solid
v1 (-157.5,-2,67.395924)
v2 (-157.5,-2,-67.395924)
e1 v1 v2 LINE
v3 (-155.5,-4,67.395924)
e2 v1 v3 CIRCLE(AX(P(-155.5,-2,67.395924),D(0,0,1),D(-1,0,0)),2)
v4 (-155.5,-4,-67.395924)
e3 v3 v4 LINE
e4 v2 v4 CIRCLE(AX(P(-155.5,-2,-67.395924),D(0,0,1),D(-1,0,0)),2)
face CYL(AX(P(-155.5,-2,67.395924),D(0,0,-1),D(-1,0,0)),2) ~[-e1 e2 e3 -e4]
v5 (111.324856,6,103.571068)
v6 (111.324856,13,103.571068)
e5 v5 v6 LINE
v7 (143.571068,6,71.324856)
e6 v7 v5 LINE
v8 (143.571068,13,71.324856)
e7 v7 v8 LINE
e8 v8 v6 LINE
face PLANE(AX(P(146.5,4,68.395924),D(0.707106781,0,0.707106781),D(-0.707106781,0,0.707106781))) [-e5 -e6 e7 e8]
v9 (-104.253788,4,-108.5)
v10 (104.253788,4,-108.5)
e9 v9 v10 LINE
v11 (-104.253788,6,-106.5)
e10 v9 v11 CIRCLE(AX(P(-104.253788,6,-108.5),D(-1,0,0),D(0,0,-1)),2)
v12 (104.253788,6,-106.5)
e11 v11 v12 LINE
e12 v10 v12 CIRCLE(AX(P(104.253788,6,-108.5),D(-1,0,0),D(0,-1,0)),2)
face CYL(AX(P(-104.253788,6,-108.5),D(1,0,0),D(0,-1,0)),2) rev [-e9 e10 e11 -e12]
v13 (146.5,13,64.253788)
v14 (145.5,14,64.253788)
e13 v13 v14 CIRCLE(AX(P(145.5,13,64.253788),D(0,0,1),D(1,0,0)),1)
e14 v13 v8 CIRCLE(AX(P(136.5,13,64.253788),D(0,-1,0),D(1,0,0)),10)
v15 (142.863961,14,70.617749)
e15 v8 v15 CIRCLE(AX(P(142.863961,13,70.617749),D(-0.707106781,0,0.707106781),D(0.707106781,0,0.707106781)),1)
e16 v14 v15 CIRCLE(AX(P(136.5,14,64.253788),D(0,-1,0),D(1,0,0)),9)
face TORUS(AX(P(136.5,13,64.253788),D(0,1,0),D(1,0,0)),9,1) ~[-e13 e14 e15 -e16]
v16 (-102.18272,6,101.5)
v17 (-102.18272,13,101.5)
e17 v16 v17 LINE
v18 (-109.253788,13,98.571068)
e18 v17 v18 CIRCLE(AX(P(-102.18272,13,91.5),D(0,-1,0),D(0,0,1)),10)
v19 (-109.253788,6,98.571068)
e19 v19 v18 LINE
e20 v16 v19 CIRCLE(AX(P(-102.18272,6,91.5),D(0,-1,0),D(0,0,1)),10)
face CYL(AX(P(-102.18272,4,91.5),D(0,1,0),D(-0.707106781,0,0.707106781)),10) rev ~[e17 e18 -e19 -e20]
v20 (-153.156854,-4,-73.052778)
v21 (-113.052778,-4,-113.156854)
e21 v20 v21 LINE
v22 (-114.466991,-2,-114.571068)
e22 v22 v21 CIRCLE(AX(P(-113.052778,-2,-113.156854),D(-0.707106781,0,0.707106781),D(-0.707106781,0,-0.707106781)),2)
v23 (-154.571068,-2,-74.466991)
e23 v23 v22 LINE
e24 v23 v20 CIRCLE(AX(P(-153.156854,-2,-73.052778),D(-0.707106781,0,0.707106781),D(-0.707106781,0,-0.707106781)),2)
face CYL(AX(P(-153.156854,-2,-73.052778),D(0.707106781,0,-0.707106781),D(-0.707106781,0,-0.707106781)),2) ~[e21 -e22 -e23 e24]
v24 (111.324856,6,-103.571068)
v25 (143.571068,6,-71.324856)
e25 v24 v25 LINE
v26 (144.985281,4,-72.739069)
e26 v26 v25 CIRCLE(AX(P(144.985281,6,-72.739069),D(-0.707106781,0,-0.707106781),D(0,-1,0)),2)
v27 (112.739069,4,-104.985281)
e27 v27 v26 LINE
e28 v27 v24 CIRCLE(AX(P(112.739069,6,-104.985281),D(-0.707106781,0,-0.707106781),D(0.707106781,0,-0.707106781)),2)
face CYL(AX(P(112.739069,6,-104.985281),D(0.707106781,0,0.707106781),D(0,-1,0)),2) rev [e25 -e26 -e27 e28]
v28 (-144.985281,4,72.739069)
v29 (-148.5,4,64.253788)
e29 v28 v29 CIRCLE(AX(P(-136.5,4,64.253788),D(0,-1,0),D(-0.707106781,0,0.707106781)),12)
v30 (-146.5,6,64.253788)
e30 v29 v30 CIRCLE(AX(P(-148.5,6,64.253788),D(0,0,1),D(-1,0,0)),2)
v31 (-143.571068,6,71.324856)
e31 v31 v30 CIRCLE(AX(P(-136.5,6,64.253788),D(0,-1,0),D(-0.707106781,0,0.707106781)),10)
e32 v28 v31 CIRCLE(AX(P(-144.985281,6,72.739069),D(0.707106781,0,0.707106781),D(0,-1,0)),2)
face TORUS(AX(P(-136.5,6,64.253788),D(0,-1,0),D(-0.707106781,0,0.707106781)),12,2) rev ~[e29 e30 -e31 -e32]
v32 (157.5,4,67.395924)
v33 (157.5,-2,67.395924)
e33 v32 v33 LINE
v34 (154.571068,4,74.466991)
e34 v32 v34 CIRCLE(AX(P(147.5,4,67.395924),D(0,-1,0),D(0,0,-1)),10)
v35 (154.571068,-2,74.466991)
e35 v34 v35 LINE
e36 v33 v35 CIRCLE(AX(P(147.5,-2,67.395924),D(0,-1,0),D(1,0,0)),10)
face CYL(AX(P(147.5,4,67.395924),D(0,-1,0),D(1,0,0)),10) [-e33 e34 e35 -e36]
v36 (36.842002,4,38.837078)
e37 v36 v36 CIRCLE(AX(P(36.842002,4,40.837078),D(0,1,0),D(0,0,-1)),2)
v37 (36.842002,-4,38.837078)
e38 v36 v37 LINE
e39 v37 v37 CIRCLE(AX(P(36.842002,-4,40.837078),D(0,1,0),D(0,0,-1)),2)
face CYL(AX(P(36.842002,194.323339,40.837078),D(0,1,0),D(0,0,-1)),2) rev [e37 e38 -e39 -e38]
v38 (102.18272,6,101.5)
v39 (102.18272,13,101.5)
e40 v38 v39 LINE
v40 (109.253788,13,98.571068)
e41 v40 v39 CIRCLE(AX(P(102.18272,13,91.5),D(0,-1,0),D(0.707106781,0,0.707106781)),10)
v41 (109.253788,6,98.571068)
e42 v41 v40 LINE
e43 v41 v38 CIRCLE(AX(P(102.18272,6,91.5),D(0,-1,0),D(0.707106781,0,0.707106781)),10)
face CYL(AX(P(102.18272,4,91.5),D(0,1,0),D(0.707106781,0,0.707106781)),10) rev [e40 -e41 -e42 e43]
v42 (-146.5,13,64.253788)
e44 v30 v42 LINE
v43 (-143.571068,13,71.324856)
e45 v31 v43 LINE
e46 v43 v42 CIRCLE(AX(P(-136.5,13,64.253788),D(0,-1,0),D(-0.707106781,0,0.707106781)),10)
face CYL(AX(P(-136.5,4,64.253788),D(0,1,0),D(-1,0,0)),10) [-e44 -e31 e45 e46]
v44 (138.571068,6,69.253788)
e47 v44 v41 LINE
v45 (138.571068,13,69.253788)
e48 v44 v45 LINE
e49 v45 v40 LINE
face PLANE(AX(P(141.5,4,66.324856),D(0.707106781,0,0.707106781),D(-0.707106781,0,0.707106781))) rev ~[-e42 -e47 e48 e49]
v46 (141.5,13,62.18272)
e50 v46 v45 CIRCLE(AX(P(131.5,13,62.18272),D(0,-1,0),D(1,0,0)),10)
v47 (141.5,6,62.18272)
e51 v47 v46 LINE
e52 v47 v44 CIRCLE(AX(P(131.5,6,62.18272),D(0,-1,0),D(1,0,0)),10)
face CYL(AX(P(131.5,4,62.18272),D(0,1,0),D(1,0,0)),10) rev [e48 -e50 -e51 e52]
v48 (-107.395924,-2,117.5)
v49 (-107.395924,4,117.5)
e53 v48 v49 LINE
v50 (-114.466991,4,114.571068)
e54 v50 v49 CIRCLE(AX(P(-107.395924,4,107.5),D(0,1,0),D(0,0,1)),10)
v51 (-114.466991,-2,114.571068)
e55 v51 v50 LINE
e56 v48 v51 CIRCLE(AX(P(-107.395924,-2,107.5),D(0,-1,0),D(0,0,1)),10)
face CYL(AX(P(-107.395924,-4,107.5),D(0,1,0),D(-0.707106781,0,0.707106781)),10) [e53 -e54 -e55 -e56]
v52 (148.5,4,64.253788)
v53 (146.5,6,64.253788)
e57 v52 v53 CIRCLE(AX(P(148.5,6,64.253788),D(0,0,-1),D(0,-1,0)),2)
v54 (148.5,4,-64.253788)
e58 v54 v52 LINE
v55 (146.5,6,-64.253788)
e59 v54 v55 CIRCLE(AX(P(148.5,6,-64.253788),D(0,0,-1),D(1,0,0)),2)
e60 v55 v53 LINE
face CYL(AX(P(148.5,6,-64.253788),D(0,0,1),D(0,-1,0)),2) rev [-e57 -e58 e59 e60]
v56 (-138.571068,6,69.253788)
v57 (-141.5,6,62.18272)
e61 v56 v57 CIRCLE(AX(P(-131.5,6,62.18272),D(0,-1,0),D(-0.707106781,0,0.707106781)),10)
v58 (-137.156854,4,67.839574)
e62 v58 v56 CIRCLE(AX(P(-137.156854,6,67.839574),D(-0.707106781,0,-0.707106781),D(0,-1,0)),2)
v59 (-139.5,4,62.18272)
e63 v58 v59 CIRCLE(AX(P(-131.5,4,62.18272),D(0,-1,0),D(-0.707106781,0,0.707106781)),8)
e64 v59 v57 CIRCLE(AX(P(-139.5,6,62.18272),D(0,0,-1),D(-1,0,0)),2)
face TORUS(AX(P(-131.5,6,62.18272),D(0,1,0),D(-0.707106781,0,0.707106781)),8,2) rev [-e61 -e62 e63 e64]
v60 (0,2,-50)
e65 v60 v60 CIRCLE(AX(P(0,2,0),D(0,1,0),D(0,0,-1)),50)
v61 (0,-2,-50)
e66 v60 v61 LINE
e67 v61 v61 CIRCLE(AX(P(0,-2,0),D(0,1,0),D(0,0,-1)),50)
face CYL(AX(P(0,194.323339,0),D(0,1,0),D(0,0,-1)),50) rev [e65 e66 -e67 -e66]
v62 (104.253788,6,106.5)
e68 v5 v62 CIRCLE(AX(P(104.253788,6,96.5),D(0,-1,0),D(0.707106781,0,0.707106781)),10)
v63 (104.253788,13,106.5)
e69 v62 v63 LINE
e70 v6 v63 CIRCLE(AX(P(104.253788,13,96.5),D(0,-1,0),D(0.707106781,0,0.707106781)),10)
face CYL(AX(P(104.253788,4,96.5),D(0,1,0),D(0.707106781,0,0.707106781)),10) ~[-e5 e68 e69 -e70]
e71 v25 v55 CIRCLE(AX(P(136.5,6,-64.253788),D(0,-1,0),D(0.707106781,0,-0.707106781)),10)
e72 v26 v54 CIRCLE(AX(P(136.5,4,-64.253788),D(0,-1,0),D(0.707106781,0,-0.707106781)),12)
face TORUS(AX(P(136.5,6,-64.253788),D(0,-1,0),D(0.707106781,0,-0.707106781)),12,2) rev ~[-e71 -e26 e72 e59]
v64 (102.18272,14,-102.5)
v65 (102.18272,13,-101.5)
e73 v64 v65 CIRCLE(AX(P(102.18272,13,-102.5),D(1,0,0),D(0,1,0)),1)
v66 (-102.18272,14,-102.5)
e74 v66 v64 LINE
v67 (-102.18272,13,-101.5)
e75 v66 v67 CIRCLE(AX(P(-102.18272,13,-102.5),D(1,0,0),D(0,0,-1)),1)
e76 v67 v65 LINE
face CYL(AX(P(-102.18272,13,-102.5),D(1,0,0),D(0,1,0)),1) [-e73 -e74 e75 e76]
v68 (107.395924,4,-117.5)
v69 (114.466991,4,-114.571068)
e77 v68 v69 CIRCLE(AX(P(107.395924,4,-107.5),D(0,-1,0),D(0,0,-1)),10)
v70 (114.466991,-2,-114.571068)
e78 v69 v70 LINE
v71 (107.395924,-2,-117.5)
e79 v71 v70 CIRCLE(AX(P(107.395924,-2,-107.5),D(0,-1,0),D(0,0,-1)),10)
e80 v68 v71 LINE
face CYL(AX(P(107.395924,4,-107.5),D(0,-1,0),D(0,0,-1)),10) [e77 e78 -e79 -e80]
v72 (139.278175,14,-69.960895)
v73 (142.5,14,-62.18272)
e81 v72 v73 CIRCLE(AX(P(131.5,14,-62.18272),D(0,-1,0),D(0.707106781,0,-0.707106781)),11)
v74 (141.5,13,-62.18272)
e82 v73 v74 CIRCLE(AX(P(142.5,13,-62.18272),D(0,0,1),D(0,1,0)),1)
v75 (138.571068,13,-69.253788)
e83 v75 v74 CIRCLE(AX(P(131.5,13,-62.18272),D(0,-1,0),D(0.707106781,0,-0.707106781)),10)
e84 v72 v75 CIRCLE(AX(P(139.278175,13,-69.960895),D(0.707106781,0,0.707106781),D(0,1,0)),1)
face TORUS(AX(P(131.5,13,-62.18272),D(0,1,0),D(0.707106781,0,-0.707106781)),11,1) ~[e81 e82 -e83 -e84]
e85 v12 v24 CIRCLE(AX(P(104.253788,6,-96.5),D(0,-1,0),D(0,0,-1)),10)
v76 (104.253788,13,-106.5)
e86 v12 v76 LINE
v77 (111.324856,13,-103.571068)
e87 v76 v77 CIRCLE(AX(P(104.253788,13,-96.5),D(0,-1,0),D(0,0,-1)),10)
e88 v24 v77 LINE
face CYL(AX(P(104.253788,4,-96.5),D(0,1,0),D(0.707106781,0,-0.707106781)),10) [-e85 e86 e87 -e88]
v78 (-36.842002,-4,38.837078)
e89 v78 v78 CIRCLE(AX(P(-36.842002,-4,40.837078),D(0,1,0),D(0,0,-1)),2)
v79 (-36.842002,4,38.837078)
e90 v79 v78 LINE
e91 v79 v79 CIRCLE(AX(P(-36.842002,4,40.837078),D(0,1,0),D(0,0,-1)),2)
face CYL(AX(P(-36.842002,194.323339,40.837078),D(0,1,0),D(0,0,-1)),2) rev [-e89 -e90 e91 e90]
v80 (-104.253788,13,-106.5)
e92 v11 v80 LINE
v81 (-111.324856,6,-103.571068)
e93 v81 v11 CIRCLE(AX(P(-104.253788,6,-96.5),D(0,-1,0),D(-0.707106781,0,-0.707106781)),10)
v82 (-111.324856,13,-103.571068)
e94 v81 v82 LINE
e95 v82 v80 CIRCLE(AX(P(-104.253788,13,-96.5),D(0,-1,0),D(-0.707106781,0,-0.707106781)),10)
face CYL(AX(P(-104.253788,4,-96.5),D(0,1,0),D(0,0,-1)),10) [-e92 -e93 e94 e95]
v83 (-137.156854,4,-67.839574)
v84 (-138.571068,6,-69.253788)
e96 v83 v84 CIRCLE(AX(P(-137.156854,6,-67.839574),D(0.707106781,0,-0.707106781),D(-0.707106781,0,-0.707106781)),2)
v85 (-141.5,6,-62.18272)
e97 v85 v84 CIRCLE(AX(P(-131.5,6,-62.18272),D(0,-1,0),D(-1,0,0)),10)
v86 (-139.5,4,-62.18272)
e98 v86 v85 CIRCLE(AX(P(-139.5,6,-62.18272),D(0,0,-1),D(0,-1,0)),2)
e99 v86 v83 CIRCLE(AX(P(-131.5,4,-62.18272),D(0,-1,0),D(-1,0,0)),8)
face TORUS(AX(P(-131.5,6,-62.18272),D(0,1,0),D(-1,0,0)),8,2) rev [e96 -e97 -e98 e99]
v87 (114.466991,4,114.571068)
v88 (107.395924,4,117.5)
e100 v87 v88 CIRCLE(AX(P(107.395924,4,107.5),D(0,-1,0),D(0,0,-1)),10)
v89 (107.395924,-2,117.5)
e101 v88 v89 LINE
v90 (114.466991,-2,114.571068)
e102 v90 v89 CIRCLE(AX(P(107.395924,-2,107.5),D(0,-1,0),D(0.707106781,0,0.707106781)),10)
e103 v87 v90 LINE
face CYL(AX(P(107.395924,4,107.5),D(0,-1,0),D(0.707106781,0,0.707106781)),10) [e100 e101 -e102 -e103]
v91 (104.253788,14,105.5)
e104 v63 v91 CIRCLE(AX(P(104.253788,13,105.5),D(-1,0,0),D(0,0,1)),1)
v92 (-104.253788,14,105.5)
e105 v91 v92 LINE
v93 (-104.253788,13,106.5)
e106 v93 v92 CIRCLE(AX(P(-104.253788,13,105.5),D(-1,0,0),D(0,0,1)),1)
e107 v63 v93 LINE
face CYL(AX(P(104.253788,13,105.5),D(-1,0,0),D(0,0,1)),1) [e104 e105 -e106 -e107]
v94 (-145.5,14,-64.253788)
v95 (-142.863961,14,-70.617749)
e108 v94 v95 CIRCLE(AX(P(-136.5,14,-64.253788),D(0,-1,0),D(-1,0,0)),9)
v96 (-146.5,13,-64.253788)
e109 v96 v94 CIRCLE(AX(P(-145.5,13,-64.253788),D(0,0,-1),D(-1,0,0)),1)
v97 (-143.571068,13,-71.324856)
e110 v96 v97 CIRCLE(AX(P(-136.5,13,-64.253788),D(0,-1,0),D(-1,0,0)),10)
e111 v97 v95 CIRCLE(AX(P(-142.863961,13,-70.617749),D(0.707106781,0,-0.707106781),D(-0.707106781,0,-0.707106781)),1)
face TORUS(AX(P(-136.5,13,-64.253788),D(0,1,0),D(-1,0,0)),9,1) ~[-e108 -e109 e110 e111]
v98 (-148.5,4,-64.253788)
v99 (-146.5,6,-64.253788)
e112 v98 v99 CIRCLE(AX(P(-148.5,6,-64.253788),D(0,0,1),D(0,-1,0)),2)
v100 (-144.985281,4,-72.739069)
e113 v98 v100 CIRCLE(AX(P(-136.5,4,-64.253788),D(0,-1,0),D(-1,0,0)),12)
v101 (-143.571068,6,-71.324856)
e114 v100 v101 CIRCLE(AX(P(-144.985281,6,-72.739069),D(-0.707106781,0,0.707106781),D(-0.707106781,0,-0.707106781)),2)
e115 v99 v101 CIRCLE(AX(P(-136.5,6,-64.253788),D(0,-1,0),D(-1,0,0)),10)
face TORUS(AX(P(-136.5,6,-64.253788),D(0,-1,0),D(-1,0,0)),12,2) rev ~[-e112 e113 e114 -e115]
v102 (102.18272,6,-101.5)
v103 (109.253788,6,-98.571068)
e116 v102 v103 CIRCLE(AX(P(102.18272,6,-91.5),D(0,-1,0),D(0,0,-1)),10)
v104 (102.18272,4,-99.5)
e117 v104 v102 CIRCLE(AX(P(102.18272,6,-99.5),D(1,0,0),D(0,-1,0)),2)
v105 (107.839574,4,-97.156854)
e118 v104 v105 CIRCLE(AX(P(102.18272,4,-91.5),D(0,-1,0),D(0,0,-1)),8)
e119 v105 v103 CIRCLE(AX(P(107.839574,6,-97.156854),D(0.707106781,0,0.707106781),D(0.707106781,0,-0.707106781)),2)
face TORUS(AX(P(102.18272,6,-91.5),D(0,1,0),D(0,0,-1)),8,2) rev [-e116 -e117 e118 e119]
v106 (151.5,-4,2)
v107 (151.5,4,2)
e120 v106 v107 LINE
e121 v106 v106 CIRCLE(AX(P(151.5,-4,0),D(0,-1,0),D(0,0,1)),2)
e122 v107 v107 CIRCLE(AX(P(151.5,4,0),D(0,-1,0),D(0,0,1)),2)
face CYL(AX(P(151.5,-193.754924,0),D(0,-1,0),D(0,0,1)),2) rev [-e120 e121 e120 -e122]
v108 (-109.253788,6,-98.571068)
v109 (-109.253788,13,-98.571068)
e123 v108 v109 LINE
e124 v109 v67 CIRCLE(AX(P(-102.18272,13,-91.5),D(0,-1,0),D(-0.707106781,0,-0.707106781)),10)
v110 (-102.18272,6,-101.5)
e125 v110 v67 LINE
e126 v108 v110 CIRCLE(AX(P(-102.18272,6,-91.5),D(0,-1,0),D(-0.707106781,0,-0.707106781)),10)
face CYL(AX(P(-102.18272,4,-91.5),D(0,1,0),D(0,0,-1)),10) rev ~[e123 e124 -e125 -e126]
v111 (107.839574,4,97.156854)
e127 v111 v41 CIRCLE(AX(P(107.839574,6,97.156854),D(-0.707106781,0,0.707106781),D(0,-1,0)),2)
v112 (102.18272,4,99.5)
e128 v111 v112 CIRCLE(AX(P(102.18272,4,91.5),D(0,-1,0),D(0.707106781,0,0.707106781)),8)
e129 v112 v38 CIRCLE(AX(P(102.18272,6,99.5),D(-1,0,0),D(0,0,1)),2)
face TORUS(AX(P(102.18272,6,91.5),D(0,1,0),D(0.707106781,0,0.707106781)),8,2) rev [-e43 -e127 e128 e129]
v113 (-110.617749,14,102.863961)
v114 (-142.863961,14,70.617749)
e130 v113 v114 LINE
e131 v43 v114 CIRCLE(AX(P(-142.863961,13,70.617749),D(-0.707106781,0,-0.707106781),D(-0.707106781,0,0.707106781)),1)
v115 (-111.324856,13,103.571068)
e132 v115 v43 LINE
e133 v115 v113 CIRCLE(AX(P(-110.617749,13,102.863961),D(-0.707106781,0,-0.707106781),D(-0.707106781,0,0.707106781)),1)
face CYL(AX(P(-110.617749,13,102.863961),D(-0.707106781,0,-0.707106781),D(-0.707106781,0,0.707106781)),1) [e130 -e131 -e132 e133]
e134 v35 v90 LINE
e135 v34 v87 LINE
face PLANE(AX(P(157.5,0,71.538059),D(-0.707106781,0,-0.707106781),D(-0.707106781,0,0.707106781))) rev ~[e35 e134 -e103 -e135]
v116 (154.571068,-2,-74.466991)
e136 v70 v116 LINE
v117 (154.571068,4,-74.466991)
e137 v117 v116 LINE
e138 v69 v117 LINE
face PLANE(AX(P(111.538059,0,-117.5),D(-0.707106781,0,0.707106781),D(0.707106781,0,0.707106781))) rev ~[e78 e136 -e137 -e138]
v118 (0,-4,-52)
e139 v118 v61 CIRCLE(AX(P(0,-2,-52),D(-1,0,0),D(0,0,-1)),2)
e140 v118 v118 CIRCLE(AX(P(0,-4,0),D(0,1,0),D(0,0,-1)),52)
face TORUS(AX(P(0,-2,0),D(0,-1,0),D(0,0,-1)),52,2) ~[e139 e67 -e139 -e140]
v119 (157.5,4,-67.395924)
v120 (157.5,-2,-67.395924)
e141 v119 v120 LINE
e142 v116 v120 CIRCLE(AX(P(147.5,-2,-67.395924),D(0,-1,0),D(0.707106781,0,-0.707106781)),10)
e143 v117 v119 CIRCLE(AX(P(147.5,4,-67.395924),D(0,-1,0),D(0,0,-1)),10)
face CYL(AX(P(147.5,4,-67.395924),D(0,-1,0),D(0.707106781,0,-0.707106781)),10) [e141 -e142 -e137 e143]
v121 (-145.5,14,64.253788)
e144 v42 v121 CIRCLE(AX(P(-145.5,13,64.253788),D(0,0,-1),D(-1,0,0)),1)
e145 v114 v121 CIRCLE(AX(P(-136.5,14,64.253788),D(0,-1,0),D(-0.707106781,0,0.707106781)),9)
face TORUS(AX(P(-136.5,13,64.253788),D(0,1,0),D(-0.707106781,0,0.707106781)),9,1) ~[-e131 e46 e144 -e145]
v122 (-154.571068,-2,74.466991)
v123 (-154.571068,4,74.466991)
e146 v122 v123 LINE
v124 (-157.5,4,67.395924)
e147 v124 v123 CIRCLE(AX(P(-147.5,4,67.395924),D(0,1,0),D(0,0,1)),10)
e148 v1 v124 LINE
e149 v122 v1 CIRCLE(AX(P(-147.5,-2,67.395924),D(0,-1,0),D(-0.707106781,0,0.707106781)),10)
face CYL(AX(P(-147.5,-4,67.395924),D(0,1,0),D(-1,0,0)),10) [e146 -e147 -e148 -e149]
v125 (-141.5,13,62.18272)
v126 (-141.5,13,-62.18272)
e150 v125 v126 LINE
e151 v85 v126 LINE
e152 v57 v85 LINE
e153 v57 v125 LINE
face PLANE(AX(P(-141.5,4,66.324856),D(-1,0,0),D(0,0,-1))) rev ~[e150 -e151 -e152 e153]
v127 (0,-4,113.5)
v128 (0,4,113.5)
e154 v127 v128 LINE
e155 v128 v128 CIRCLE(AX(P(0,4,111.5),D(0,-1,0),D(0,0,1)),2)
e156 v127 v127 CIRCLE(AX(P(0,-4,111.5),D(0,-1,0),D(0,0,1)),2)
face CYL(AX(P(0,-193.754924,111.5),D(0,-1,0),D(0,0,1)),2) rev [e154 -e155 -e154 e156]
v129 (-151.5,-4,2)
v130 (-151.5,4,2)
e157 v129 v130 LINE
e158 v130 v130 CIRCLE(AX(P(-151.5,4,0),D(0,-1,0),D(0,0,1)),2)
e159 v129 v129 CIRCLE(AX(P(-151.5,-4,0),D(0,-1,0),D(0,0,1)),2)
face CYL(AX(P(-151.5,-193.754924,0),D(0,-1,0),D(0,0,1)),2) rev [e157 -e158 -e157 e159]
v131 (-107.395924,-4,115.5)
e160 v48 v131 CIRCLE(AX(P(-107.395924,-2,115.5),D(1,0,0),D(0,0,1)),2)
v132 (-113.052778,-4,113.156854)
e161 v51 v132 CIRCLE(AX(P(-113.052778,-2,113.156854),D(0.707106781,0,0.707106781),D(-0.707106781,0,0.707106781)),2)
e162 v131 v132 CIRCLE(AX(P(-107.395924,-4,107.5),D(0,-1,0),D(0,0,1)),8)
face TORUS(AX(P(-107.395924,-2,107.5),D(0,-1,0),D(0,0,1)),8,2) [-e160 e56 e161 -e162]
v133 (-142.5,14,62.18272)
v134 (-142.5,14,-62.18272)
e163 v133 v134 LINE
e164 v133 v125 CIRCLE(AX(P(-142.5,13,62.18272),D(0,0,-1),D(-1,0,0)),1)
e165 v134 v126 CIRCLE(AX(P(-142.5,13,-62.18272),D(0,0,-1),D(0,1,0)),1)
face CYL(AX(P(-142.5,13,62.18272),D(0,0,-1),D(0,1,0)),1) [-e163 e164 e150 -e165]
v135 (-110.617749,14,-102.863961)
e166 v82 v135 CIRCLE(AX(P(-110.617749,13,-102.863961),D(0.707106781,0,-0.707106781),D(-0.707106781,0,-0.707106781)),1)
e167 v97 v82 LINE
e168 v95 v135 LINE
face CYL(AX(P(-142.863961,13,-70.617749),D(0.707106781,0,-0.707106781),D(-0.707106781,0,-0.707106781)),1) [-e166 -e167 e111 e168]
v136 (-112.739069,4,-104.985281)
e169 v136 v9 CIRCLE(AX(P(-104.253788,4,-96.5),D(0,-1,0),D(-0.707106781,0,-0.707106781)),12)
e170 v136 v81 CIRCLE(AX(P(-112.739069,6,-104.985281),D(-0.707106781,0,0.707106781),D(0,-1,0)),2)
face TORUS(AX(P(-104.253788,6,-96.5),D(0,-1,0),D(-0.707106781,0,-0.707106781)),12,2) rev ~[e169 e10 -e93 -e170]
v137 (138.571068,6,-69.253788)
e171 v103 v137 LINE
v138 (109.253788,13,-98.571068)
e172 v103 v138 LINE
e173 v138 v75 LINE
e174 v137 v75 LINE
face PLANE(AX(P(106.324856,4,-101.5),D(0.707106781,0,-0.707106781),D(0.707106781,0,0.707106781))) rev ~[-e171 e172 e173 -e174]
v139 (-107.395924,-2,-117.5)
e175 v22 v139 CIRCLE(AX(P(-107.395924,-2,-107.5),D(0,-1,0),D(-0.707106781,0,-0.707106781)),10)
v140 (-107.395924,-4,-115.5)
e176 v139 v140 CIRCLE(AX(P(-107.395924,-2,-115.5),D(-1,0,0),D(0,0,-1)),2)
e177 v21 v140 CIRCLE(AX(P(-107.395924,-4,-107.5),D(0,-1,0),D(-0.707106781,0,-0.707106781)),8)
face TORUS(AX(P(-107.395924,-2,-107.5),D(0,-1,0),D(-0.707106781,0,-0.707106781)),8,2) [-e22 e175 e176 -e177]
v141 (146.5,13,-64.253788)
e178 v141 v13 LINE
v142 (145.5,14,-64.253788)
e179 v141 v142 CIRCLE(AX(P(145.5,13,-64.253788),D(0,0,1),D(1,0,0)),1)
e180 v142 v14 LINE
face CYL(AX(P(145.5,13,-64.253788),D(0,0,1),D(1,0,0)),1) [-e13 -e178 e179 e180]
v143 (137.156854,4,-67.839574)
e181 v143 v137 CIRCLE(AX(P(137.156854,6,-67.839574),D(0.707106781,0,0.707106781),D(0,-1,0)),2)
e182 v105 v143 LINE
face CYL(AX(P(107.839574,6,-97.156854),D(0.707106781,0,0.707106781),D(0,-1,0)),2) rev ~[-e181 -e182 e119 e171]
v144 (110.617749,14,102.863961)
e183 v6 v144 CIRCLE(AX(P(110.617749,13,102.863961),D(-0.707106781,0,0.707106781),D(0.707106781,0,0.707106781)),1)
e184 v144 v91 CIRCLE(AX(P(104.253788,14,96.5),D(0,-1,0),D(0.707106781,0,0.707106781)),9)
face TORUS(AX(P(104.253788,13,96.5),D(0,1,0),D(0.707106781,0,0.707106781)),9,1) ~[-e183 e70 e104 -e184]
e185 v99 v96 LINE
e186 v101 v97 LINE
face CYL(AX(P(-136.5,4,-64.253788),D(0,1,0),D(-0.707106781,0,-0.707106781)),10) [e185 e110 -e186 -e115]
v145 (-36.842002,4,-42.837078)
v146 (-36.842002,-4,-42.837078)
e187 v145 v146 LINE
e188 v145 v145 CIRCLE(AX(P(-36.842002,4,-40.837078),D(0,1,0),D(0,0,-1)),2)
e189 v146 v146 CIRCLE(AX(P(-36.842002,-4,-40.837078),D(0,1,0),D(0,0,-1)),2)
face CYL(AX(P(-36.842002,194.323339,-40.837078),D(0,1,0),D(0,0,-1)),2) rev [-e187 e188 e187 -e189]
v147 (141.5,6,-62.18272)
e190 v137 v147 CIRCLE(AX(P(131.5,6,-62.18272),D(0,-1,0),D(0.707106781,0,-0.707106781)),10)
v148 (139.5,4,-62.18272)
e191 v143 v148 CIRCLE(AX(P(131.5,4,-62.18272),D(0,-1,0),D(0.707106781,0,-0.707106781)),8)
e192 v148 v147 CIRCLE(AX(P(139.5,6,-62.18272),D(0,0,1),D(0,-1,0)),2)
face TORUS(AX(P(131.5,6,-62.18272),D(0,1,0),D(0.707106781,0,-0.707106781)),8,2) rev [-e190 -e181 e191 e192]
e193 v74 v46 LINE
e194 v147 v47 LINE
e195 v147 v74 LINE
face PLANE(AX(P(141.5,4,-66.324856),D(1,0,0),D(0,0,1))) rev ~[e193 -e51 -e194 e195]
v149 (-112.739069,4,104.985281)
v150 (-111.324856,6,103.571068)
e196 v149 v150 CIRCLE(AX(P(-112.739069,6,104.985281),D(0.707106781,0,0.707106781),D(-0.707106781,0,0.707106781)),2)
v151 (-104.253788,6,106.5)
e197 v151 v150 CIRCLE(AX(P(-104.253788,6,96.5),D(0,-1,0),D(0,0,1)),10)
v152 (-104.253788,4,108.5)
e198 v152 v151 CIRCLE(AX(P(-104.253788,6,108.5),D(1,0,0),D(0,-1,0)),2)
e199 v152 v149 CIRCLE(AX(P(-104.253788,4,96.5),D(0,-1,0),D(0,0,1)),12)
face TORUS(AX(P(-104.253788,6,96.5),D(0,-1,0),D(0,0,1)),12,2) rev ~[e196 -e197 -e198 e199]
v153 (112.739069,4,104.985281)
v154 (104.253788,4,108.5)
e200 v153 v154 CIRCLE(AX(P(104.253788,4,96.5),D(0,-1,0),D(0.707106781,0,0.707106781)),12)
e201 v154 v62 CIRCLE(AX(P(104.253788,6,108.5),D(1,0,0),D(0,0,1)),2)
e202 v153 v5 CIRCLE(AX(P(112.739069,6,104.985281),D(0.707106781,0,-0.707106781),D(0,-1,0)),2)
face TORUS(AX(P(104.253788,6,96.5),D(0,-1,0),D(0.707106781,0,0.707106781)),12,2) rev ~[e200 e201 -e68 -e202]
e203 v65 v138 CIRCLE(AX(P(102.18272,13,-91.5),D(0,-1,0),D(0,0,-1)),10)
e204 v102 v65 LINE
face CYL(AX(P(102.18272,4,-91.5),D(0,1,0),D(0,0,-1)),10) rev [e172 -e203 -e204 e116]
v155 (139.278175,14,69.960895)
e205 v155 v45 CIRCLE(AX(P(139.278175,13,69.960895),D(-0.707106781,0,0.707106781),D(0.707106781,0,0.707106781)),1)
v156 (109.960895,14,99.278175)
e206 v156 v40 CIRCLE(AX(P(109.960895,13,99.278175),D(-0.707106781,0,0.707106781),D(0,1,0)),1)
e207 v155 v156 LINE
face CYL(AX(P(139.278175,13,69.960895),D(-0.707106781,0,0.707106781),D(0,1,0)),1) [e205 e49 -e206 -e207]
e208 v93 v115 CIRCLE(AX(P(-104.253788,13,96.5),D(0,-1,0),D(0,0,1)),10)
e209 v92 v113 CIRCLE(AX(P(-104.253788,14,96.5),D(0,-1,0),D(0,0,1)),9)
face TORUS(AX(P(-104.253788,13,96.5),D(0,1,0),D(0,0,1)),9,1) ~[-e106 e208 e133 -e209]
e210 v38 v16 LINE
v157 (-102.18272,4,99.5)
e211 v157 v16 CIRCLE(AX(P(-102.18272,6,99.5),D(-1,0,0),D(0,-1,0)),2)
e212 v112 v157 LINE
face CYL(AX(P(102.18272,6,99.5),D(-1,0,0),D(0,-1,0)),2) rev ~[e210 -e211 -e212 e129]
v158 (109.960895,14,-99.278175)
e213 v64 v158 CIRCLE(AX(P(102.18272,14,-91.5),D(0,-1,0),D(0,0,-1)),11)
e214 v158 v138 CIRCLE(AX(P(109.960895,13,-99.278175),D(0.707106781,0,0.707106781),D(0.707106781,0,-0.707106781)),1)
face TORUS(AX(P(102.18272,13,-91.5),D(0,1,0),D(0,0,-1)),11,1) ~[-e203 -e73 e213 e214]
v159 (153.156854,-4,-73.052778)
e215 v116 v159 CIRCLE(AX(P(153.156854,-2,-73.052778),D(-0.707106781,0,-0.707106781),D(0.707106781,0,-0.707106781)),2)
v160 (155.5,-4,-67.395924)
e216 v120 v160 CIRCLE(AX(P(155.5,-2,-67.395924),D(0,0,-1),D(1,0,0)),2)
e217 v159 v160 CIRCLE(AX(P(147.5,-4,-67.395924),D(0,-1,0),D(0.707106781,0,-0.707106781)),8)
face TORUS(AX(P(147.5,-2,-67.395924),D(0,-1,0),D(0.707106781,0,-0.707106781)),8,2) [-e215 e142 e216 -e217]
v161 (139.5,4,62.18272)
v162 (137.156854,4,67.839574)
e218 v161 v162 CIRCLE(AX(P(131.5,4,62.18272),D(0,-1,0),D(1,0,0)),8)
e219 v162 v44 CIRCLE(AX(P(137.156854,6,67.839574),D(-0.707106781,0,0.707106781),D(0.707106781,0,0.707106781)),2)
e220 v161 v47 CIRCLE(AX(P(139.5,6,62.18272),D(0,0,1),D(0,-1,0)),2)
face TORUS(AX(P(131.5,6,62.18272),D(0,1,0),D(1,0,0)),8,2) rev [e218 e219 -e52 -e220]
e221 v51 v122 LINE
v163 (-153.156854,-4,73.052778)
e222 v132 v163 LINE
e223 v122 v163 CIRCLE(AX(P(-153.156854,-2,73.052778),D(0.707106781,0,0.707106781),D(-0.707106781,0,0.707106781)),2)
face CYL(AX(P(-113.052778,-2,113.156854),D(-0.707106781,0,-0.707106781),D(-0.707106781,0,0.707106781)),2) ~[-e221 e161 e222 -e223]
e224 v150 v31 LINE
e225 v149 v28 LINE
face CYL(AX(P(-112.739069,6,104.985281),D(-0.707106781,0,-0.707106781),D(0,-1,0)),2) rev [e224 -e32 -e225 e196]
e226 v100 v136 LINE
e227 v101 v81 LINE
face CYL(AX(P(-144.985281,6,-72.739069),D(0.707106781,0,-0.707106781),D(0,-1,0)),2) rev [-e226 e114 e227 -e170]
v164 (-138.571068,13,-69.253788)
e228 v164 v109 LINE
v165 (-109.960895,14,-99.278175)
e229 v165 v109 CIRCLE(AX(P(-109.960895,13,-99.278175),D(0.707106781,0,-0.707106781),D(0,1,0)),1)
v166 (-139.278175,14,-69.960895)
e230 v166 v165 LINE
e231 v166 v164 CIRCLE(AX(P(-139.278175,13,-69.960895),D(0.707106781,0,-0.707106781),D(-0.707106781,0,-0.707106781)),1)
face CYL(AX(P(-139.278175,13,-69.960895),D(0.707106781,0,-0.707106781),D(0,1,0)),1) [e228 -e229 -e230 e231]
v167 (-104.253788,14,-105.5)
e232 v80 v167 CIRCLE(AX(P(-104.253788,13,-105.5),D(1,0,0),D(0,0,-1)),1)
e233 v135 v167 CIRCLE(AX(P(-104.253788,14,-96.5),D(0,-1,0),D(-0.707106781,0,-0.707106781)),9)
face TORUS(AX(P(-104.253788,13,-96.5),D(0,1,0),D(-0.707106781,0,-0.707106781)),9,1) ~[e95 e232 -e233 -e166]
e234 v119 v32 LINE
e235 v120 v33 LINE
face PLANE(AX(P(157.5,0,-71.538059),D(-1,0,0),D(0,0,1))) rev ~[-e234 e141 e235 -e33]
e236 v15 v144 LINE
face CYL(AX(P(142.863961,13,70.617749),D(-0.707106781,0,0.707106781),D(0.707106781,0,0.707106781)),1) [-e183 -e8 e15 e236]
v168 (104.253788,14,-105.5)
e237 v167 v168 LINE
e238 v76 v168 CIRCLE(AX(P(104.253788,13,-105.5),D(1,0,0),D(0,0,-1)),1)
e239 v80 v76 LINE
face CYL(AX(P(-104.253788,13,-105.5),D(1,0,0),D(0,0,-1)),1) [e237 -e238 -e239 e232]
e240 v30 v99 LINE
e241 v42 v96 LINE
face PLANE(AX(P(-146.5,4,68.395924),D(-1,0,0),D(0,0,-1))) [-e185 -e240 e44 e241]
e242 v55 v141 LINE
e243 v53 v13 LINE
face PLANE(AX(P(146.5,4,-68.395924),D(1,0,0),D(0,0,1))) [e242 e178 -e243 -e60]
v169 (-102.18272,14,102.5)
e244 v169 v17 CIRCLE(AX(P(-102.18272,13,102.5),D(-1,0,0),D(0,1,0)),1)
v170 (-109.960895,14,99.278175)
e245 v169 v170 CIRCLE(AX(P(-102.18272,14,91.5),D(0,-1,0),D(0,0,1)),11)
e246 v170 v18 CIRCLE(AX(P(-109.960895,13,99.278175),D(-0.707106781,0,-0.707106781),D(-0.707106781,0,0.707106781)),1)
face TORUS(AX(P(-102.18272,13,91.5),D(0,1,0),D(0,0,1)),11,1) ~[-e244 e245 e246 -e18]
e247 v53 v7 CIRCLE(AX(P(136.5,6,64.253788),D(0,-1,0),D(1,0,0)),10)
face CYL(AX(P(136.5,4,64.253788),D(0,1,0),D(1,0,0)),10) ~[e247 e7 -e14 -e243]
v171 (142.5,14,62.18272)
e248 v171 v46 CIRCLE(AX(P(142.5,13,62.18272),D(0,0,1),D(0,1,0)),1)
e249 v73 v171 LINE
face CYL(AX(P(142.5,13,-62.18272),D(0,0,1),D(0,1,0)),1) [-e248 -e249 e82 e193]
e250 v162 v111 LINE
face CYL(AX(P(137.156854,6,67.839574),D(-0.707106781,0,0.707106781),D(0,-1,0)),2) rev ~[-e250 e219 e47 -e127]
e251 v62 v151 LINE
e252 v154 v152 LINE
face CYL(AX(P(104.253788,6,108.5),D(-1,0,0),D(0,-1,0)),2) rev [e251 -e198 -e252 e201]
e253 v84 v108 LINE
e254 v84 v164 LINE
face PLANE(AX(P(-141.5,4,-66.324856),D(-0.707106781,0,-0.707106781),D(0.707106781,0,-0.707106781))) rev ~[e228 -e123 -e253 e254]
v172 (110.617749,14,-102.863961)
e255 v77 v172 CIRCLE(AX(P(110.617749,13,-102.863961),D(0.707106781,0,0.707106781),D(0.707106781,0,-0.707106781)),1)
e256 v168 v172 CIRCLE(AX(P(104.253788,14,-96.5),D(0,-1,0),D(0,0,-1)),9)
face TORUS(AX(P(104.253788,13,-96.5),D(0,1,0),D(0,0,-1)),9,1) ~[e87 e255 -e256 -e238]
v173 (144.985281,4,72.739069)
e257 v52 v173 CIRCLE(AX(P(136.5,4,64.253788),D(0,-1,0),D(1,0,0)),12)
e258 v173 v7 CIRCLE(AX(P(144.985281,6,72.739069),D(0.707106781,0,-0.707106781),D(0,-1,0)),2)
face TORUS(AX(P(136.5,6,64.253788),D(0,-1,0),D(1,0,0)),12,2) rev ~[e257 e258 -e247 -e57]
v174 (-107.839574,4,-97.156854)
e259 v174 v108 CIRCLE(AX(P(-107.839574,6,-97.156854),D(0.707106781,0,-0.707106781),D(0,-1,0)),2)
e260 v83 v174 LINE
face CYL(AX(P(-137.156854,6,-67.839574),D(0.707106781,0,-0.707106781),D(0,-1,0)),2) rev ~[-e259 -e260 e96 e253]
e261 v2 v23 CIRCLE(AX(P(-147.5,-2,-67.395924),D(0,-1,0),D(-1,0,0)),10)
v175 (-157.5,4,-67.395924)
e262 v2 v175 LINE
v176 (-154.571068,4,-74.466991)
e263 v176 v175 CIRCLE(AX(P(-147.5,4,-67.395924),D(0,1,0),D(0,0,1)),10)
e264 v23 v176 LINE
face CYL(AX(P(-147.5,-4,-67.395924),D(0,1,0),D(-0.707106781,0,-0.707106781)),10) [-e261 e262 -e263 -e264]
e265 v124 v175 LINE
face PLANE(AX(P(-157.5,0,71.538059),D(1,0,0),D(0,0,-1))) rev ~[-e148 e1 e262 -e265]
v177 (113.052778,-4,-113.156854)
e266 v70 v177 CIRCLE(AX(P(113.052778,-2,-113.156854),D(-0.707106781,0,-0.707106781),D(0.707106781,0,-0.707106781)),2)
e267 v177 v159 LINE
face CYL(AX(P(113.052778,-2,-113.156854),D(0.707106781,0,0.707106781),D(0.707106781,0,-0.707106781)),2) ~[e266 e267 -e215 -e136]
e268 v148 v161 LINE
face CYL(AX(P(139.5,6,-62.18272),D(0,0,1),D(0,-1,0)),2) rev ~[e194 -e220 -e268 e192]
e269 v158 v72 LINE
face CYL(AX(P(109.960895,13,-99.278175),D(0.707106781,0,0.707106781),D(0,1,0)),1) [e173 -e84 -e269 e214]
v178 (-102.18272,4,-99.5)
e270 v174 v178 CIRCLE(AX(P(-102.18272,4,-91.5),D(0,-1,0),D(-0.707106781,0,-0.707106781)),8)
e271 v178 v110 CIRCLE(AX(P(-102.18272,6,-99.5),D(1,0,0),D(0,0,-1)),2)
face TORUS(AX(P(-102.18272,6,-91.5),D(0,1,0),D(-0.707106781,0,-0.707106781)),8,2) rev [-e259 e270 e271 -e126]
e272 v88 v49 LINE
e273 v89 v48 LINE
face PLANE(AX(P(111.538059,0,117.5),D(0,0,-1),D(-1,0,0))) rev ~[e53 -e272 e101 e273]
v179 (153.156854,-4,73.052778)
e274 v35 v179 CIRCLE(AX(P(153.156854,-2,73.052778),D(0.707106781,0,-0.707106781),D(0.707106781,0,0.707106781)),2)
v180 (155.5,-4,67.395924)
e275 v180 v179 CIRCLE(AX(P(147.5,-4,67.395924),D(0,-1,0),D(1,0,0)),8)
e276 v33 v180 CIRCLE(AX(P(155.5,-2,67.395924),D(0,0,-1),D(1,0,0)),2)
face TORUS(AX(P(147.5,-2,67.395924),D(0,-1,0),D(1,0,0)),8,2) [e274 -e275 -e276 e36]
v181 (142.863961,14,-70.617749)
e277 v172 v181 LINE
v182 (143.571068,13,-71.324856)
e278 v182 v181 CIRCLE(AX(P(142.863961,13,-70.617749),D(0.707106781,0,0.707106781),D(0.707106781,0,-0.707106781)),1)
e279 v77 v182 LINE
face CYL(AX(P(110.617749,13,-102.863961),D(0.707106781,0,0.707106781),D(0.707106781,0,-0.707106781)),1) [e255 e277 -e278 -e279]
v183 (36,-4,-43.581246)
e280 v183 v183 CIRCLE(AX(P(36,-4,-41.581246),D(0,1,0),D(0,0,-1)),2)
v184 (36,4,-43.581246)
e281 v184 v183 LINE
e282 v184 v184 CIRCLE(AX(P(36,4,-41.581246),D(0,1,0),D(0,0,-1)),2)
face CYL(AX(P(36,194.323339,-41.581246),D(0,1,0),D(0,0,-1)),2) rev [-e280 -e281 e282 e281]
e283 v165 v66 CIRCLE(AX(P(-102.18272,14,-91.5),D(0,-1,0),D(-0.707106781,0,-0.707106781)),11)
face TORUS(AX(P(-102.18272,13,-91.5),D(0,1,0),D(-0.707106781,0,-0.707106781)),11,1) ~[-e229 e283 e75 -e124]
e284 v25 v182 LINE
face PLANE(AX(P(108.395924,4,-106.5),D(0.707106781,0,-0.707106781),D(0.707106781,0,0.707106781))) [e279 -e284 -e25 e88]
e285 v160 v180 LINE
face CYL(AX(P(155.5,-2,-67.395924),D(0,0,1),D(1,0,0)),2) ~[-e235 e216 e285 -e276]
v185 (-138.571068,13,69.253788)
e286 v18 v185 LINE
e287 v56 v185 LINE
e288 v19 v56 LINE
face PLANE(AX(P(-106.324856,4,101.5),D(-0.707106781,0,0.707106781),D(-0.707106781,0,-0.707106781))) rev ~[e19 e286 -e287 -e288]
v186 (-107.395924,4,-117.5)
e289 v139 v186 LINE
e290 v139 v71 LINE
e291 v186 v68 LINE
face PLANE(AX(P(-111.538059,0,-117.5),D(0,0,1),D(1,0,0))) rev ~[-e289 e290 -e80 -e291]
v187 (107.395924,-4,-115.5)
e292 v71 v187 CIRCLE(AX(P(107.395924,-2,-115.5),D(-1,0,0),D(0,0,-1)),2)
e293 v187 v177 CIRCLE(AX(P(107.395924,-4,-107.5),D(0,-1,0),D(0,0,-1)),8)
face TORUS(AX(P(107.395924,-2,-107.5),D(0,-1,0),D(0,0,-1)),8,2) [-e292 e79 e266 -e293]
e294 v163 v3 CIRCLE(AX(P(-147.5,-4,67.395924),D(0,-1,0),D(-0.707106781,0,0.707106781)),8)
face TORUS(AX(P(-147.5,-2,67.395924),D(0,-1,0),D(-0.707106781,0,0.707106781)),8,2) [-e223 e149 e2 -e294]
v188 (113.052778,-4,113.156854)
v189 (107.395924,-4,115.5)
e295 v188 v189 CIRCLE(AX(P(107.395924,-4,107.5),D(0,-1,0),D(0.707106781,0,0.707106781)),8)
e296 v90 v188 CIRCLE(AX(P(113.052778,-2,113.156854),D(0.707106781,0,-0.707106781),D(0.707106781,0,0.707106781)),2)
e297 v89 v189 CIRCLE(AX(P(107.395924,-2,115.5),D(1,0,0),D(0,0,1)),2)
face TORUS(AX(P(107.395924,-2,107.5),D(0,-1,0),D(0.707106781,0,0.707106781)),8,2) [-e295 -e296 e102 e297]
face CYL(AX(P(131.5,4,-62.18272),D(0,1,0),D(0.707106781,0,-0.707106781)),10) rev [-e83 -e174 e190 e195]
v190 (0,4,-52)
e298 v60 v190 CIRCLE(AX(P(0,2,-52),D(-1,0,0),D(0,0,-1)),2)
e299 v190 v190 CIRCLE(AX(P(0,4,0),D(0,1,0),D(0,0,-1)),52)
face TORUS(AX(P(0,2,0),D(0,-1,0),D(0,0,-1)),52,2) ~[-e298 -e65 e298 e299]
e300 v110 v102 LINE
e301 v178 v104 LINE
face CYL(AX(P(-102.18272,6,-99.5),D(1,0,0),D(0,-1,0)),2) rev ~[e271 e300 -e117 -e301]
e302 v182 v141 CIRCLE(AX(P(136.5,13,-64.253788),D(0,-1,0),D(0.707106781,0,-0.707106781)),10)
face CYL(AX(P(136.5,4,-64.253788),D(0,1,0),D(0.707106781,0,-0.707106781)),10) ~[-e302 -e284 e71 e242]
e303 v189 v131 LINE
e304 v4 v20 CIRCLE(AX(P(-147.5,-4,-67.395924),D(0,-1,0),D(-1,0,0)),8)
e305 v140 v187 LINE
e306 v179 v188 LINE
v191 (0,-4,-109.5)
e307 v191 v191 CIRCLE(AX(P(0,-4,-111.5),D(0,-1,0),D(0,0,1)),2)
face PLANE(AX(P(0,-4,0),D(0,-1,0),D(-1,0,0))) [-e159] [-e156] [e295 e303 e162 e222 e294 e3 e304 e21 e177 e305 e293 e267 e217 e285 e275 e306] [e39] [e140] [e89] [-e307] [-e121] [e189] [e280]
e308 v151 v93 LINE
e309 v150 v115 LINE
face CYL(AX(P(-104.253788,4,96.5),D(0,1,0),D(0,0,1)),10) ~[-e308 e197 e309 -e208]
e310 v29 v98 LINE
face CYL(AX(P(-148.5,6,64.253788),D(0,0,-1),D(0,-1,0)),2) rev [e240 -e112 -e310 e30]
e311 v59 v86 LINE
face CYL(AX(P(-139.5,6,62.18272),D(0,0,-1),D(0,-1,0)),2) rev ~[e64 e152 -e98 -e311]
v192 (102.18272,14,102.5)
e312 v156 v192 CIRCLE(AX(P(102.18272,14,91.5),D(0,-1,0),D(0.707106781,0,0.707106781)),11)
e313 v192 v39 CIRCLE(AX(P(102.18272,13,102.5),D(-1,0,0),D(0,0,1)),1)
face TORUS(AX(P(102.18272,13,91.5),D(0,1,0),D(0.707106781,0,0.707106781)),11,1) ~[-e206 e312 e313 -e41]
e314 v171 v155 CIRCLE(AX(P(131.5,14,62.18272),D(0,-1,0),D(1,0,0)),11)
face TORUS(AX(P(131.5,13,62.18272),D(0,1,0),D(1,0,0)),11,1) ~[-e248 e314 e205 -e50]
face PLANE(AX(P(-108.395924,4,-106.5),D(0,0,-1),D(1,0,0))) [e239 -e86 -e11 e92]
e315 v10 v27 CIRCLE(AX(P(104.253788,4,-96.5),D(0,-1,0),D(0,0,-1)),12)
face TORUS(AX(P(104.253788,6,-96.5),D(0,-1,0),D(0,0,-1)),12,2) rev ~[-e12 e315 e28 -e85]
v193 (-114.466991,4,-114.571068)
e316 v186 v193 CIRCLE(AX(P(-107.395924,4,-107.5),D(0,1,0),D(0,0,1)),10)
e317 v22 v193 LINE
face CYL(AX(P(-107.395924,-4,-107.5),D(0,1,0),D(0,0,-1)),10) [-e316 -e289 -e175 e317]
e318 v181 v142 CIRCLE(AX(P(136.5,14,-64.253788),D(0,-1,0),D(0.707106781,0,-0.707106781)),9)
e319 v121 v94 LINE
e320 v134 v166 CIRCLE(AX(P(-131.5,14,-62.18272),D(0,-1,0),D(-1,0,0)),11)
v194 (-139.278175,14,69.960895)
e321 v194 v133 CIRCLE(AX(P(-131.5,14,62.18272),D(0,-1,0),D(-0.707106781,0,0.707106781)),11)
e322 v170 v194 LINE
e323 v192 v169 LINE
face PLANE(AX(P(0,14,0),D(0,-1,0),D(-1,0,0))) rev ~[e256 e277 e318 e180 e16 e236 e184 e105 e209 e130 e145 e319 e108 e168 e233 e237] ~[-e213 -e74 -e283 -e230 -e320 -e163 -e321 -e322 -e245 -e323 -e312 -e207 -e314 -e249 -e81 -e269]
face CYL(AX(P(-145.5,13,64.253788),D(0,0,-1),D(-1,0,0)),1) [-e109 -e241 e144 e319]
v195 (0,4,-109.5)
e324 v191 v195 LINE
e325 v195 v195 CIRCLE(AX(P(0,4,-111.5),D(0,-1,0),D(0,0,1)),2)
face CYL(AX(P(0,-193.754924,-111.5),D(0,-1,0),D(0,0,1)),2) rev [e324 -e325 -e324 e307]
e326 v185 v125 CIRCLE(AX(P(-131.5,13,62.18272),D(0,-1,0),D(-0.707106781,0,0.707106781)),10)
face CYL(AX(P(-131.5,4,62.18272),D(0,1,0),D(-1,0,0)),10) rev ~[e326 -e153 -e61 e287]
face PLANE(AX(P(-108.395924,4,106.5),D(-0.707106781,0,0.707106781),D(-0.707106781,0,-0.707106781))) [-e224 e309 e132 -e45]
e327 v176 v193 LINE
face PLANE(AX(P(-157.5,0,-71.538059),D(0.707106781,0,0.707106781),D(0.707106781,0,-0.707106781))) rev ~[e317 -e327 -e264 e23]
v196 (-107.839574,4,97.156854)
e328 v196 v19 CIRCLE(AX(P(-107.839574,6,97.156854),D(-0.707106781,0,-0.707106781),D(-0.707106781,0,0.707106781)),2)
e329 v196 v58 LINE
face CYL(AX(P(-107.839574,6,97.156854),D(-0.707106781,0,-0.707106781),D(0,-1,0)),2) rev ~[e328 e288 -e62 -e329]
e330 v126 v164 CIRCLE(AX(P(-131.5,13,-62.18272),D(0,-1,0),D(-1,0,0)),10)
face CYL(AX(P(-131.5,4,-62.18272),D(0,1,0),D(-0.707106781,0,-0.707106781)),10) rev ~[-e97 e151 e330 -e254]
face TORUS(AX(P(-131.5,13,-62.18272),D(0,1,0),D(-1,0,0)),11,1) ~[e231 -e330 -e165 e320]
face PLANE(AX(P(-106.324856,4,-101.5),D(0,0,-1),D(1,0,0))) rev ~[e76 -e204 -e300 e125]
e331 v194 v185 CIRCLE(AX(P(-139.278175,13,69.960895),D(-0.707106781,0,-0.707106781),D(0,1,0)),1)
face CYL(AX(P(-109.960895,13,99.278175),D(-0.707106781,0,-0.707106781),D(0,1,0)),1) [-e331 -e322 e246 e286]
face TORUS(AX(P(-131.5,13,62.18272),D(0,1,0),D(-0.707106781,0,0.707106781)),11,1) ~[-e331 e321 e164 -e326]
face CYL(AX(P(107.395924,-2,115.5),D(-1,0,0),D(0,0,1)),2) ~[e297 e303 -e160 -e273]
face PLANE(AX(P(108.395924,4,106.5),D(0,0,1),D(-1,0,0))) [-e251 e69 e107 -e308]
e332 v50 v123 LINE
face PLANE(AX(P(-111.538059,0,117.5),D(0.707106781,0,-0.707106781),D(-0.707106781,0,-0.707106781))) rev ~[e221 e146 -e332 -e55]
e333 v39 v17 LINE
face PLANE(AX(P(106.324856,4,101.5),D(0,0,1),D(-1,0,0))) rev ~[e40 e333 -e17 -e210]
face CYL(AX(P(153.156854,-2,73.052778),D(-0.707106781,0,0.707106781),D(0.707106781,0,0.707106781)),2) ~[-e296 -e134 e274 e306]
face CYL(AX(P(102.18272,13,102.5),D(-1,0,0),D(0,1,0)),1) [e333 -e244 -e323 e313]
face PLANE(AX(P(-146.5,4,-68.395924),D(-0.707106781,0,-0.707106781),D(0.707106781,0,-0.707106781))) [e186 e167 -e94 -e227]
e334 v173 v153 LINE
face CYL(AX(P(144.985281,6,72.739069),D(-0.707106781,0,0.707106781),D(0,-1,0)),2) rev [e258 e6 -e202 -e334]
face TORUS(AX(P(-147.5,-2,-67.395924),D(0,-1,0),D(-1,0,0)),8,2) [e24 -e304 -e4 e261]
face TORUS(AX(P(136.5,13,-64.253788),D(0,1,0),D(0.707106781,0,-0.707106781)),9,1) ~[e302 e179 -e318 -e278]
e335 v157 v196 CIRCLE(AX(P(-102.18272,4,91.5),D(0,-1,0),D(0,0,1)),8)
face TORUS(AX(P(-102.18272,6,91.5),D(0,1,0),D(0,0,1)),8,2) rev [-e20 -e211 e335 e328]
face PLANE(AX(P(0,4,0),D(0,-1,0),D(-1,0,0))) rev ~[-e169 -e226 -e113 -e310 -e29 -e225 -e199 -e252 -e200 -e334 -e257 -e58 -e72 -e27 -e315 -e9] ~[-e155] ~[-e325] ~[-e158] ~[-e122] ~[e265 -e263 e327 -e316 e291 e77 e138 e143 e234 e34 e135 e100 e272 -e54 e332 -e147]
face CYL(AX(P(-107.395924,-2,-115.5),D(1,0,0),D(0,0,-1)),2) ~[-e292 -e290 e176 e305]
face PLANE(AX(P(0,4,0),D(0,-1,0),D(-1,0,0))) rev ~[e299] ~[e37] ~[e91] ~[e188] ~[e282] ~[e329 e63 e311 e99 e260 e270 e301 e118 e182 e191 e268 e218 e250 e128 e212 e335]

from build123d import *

# Parameters (mm, degrees)
BOSS_EXTRUDE1_DEPTH     = 4
BOSS_EXTRUDE2_DEPTH     = 10
CUT_EXTRUDE1_DEPTH      = 197.7549237
CUT_EXTRUDE1_DEPTH_BACK = 197.7549237
SKETCH3_R               = 2
CUT_EXTRUDE2_DEPTH      = 198.323338711
CUT_EXTRUDE2_DEPTH_BACK = 198.323338711
SKETCH4_R               = 2
SKETCH4_R_2             = 50
FILLET1_R               = 10
FILLET3_R               = 2
FILLET4_R               = 1
FILLET6_R               = 2
FILLET7_R               = 2


with BuildPart() as part:
    # Sketch1 → Boss-Extrude1 (new, symmetric)
    # profile 1 of 2: a face of its own
    with BuildSketch(Plane(origin=(0, 0, 0), x_dir=(1, 0, 0), z_dir=(0, 1, 0))):
        Polygon((-111.538059223, 117.5), (111.538059223, 117.5), (157.5, 71.538059223), (157.5, -71.538059223), (111.538059223, -117.5), (-111.538059223, -117.5), (-157.5, -71.538059223), (-157.5, 71.538059223), align=None)
        Polygon((-108.395923599, -106.5), (108.395923599, -106.5), (146.5, -68.395923599), (146.5, 68.395923599), (108.395923599, 106.5), (-108.395923599, 106.5), (-146.5, 68.395923599), (-146.5, -68.395923599), align=None, mode=Mode.SUBTRACT)
    # profile 2 of 2: a face of its own
    with BuildSketch(Plane(origin=(0, 0, 0), x_dir=(1, 0, 0), z_dir=(0, 1, 0))):
        Polygon((-108.395923599, -106.5), (-146.5, -68.395923599), (-146.5, 68.395923599), (-108.395923599, 106.5), (108.395923599, 106.5), (146.5, 68.395923599), (146.5, -68.395923599), (108.395923599, -106.5), align=None)
    extrude(amount=BOSS_EXTRUDE1_DEPTH, both=True)

    # Sketch2 → Boss-Extrude2 (add)
    with BuildSketch(Plane(origin=(0, 4, 0), x_dir=(1, 0, 0), z_dir=(0, 1, 0))):
        Polygon((108.395923599, 106.5), (146.5, 68.395923599), (146.5, -68.395923599), (108.395923599, -106.5), (-108.395923599, -106.5), (-146.5, -68.395923599), (-146.5, 68.395923599), (-108.395923599, 106.5), align=None)
        Polygon((106.324855787, 101.5), (141.5, 66.324855787), (141.5, -66.324855787), (106.324855787, -101.5), (-106.324855787, -101.5), (-141.5, -66.324855787), (-141.5, 66.324855787), (-106.324855787, 101.5), align=None, mode=Mode.SUBTRACT)
    extrude(amount=BOSS_EXTRUDE2_DEPTH)

    # Sketch3 → Cut-Extrude1 (cut, two sides: drawn at the far end of the back side and taken through both)
    with BuildSketch(Plane(origin=(0, 4, 0), x_dir=(1, 0, 0), z_dir=(0, 1, 0)).offset(-CUT_EXTRUDE1_DEPTH_BACK)):
        with Locations(Location((0, 111.5, 0), (0, 0, 270))):
            Circle(SKETCH3_R)
        with Locations(Location((0, -111.5, 0), (0, 0, 270))):
            Circle(SKETCH3_R)
        with Locations(Location((151.5, 0, 0), (0, 0, 270))):
            Circle(SKETCH3_R)
        with Locations(Location((-151.5, 0, 0), (0, 0, 270))):
            Circle(SKETCH3_R)
    extrude(amount=CUT_EXTRUDE1_DEPTH + CUT_EXTRUDE1_DEPTH_BACK, mode=Mode.SUBTRACT)

    # Sketch4 → Cut-Extrude2 (cut, two sides: drawn at the far end of the back side and taken through both)
    with BuildSketch(Plane.XZ.offset(4).offset(-CUT_EXTRUDE2_DEPTH_BACK)):
        with Locations(Location((-36.842001616, -40.837077723, 0), (0, 0, 270))):
            Circle(SKETCH4_R)
        with Locations(Location((36, -41.581245773, 0), (0, 0, 270))):
            Circle(SKETCH4_R)
        with Locations(Location((-36.842001616, 40.837077723, 0), (0, 0, 270))):
            Circle(SKETCH4_R)
        with Locations(Location((36.842001616, 40.837077723, 0), (0, 0, 270))):
            Circle(SKETCH4_R)
        with Locations(Location((0, 0, 0), (0, 0, 270))):
            Circle(SKETCH4_R_2)
    extrude(amount=CUT_EXTRUDE2_DEPTH + CUT_EXTRUDE2_DEPTH_BACK, mode=Mode.SUBTRACT)

    # Fillet1
    fillet1_edges = [part.edges().sort_by_distance(p)[0] for p in [
        (111.538059223, 0, -117.5),
        (157.5, 0, -71.538059223),
        (157.5, 0, 71.538059223),
        (111.538059223, 0, 117.5),
        (-111.538059223, 0, 117.5),
        (-157.5, 0, 71.538059223),
        (-157.5, 0, -71.538059223),
        (-111.538059223, 0, -117.5),
        (108.395923599, 9, -106.5),
        (-108.395923599, 9, -106.5),
        (-146.5, 9, -68.395923599),
        (-146.5, 9, 68.395923599),
        (-108.395923599, 9, 106.5),
        (108.395923599, 9, 106.5),
        (146.5, 9, 68.395923599),
        (146.5, 9, -68.395923599),
        (-106.324855787, 9, -101.5),
        (-141.5, 9, -66.324855787),
        (-141.5, 9, 66.324855787),
        (-106.324855787, 9, 101.5),
        (106.324855787, 9, 101.5),
        (141.5, 9, 66.324855787),
        (141.5, 9, -66.324855787),
        (106.324855787, 9, -101.5),
    ]]
    fillet(fillet1_edges, radius=FILLET1_R)

    # Fillet3
    fillet3_edges = [part.edges().sort_by_distance(p)[0] for p in [
        (141.5, 4, 0),
        (0, 4, -101.5),
        (-123.912427894, 4, -83.912427894),
        (-141.5, 4, 0),
        (-123.912427894, 4, 83.912427894),
        (0, 4, 101.5),
        (123.912427894, 4, 83.912427894),
        (123.912427894, 4, -83.912427894),
        (-140.738795325, 4, -66.009554487),
        (-106.009554487, 4, -100.738795325),
        (-106.009554487, 4, 100.738795325),
        (-140.738795325, 4, 66.009554487),
        (140.738795325, 4, 66.009554487),
        (106.009554487, 4, 100.738795325),
        (106.009554487, 4, -100.738795325),
        (140.738795325, 4, -66.009554487),
        (127.4479618, 4, 87.4479618),
        (0, 4, 106.5),
        (146.5, 4, 0),
        (127.4479618, 4, -87.4479618),
        (0, 4, -106.5),
        (-127.4479618, 4, -87.4479618),
        (-146.5, 4, 0),
        (-127.4479618, 4, 87.4479618),
        (108.080622299, 4, 105.738795325),
        (145.738795325, 4, 68.080622299),
        (145.738795325, 4, -68.080622299),
        (108.080622299, 4, -105.738795325),
        (-108.080622299, 4, -105.738795325),
        (-145.738795325, 4, -68.080622299),
        (-145.738795325, 4, 68.080622299),
        (-108.080622299, 4, 105.738795325),
    ]]
    fillet(fillet3_edges, radius=FILLET3_R)

    # Fillet4
    fillet4_edges = [part.edges().sort_by_distance(p)[0] for p in [
        (141.5, 14, 0),
        (123.912427894, 14, -83.912427894),
        (0, 14, -101.5),
        (0, 14, 101.5),
        (123.912427894, 14, 83.912427894),
        (-141.5, 14, 0),
        (-123.912427894, 14, 83.912427894),
        (-123.912427894, 14, -83.912427894),
        (127.4479618, 14, 87.4479618),
        (0, 14, 106.5),
        (0, 14, -106.5),
        (-127.4479618, 14, -87.4479618),
        (-146.5, 14, 0),
        (-127.4479618, 14, 87.4479618),
        (146.5, 14, 0),
        (127.4479618, 14, -87.4479618),
        (-108.080622299, 14, 105.738795325),
        (-145.738795325, 14, 68.080622299),
        (-145.738795325, 14, -68.080622299),
        (-108.080622299, 14, -105.738795325),
        (108.080622299, 14, -105.738795325),
        (145.738795325, 14, -68.080622299),
        (145.738795325, 14, 68.080622299),
        (108.080622299, 14, 105.738795325),
        (140.738795325, 14, -66.009554487),
        (106.009554487, 14, -100.738795325),
        (106.009554487, 14, 100.738795325),
        (140.738795325, 14, 66.009554487),
        (-140.738795325, 14, 66.009554487),
        (-106.009554487, 14, 100.738795325),
        (-106.009554487, 14, -100.738795325),
        (-140.738795325, 14, -66.009554487),
    ]]
    fillet(fillet4_edges, radius=FILLET4_R)

    # Fillet6
    fillet6_edges = [part.edges().sort_by_distance(p)[0] for p in [
        (134.519029611, -4, 94.519029611),
        (0, -4, -117.5),
        (134.519029611, -4, -94.519029611),
        (157.5, -4, 0),
        (0, -4, 117.5),
        (-134.519029611, -4, 94.519029611),
        (-157.5, -4, 0),
        (-134.519029611, -4, -94.519029611),
        (111.222757923, -4, -116.738795325),
        (156.738795325, -4, -71.222757923),
        (-111.222757923, -4, -116.738795325),
        (-156.738795325, -4, -71.222757923),
        (-156.738795325, -4, 71.222757923),
        (-111.222757923, -4, 116.738795325),
        (156.738795325, -4, 71.222757923),
        (111.222757923, -4, 116.738795325),
    ]]
    fillet(fillet6_edges, radius=FILLET6_R)

    # Fillet7
    fillet7_edges = [part.edges().sort_by_distance(p)[0] for p in [
        (0, 4, 50),
        (0, -4, 50),
    ]]
    fillet(fillet7_edges, radius=FILLET7_R)


solid = part.part
